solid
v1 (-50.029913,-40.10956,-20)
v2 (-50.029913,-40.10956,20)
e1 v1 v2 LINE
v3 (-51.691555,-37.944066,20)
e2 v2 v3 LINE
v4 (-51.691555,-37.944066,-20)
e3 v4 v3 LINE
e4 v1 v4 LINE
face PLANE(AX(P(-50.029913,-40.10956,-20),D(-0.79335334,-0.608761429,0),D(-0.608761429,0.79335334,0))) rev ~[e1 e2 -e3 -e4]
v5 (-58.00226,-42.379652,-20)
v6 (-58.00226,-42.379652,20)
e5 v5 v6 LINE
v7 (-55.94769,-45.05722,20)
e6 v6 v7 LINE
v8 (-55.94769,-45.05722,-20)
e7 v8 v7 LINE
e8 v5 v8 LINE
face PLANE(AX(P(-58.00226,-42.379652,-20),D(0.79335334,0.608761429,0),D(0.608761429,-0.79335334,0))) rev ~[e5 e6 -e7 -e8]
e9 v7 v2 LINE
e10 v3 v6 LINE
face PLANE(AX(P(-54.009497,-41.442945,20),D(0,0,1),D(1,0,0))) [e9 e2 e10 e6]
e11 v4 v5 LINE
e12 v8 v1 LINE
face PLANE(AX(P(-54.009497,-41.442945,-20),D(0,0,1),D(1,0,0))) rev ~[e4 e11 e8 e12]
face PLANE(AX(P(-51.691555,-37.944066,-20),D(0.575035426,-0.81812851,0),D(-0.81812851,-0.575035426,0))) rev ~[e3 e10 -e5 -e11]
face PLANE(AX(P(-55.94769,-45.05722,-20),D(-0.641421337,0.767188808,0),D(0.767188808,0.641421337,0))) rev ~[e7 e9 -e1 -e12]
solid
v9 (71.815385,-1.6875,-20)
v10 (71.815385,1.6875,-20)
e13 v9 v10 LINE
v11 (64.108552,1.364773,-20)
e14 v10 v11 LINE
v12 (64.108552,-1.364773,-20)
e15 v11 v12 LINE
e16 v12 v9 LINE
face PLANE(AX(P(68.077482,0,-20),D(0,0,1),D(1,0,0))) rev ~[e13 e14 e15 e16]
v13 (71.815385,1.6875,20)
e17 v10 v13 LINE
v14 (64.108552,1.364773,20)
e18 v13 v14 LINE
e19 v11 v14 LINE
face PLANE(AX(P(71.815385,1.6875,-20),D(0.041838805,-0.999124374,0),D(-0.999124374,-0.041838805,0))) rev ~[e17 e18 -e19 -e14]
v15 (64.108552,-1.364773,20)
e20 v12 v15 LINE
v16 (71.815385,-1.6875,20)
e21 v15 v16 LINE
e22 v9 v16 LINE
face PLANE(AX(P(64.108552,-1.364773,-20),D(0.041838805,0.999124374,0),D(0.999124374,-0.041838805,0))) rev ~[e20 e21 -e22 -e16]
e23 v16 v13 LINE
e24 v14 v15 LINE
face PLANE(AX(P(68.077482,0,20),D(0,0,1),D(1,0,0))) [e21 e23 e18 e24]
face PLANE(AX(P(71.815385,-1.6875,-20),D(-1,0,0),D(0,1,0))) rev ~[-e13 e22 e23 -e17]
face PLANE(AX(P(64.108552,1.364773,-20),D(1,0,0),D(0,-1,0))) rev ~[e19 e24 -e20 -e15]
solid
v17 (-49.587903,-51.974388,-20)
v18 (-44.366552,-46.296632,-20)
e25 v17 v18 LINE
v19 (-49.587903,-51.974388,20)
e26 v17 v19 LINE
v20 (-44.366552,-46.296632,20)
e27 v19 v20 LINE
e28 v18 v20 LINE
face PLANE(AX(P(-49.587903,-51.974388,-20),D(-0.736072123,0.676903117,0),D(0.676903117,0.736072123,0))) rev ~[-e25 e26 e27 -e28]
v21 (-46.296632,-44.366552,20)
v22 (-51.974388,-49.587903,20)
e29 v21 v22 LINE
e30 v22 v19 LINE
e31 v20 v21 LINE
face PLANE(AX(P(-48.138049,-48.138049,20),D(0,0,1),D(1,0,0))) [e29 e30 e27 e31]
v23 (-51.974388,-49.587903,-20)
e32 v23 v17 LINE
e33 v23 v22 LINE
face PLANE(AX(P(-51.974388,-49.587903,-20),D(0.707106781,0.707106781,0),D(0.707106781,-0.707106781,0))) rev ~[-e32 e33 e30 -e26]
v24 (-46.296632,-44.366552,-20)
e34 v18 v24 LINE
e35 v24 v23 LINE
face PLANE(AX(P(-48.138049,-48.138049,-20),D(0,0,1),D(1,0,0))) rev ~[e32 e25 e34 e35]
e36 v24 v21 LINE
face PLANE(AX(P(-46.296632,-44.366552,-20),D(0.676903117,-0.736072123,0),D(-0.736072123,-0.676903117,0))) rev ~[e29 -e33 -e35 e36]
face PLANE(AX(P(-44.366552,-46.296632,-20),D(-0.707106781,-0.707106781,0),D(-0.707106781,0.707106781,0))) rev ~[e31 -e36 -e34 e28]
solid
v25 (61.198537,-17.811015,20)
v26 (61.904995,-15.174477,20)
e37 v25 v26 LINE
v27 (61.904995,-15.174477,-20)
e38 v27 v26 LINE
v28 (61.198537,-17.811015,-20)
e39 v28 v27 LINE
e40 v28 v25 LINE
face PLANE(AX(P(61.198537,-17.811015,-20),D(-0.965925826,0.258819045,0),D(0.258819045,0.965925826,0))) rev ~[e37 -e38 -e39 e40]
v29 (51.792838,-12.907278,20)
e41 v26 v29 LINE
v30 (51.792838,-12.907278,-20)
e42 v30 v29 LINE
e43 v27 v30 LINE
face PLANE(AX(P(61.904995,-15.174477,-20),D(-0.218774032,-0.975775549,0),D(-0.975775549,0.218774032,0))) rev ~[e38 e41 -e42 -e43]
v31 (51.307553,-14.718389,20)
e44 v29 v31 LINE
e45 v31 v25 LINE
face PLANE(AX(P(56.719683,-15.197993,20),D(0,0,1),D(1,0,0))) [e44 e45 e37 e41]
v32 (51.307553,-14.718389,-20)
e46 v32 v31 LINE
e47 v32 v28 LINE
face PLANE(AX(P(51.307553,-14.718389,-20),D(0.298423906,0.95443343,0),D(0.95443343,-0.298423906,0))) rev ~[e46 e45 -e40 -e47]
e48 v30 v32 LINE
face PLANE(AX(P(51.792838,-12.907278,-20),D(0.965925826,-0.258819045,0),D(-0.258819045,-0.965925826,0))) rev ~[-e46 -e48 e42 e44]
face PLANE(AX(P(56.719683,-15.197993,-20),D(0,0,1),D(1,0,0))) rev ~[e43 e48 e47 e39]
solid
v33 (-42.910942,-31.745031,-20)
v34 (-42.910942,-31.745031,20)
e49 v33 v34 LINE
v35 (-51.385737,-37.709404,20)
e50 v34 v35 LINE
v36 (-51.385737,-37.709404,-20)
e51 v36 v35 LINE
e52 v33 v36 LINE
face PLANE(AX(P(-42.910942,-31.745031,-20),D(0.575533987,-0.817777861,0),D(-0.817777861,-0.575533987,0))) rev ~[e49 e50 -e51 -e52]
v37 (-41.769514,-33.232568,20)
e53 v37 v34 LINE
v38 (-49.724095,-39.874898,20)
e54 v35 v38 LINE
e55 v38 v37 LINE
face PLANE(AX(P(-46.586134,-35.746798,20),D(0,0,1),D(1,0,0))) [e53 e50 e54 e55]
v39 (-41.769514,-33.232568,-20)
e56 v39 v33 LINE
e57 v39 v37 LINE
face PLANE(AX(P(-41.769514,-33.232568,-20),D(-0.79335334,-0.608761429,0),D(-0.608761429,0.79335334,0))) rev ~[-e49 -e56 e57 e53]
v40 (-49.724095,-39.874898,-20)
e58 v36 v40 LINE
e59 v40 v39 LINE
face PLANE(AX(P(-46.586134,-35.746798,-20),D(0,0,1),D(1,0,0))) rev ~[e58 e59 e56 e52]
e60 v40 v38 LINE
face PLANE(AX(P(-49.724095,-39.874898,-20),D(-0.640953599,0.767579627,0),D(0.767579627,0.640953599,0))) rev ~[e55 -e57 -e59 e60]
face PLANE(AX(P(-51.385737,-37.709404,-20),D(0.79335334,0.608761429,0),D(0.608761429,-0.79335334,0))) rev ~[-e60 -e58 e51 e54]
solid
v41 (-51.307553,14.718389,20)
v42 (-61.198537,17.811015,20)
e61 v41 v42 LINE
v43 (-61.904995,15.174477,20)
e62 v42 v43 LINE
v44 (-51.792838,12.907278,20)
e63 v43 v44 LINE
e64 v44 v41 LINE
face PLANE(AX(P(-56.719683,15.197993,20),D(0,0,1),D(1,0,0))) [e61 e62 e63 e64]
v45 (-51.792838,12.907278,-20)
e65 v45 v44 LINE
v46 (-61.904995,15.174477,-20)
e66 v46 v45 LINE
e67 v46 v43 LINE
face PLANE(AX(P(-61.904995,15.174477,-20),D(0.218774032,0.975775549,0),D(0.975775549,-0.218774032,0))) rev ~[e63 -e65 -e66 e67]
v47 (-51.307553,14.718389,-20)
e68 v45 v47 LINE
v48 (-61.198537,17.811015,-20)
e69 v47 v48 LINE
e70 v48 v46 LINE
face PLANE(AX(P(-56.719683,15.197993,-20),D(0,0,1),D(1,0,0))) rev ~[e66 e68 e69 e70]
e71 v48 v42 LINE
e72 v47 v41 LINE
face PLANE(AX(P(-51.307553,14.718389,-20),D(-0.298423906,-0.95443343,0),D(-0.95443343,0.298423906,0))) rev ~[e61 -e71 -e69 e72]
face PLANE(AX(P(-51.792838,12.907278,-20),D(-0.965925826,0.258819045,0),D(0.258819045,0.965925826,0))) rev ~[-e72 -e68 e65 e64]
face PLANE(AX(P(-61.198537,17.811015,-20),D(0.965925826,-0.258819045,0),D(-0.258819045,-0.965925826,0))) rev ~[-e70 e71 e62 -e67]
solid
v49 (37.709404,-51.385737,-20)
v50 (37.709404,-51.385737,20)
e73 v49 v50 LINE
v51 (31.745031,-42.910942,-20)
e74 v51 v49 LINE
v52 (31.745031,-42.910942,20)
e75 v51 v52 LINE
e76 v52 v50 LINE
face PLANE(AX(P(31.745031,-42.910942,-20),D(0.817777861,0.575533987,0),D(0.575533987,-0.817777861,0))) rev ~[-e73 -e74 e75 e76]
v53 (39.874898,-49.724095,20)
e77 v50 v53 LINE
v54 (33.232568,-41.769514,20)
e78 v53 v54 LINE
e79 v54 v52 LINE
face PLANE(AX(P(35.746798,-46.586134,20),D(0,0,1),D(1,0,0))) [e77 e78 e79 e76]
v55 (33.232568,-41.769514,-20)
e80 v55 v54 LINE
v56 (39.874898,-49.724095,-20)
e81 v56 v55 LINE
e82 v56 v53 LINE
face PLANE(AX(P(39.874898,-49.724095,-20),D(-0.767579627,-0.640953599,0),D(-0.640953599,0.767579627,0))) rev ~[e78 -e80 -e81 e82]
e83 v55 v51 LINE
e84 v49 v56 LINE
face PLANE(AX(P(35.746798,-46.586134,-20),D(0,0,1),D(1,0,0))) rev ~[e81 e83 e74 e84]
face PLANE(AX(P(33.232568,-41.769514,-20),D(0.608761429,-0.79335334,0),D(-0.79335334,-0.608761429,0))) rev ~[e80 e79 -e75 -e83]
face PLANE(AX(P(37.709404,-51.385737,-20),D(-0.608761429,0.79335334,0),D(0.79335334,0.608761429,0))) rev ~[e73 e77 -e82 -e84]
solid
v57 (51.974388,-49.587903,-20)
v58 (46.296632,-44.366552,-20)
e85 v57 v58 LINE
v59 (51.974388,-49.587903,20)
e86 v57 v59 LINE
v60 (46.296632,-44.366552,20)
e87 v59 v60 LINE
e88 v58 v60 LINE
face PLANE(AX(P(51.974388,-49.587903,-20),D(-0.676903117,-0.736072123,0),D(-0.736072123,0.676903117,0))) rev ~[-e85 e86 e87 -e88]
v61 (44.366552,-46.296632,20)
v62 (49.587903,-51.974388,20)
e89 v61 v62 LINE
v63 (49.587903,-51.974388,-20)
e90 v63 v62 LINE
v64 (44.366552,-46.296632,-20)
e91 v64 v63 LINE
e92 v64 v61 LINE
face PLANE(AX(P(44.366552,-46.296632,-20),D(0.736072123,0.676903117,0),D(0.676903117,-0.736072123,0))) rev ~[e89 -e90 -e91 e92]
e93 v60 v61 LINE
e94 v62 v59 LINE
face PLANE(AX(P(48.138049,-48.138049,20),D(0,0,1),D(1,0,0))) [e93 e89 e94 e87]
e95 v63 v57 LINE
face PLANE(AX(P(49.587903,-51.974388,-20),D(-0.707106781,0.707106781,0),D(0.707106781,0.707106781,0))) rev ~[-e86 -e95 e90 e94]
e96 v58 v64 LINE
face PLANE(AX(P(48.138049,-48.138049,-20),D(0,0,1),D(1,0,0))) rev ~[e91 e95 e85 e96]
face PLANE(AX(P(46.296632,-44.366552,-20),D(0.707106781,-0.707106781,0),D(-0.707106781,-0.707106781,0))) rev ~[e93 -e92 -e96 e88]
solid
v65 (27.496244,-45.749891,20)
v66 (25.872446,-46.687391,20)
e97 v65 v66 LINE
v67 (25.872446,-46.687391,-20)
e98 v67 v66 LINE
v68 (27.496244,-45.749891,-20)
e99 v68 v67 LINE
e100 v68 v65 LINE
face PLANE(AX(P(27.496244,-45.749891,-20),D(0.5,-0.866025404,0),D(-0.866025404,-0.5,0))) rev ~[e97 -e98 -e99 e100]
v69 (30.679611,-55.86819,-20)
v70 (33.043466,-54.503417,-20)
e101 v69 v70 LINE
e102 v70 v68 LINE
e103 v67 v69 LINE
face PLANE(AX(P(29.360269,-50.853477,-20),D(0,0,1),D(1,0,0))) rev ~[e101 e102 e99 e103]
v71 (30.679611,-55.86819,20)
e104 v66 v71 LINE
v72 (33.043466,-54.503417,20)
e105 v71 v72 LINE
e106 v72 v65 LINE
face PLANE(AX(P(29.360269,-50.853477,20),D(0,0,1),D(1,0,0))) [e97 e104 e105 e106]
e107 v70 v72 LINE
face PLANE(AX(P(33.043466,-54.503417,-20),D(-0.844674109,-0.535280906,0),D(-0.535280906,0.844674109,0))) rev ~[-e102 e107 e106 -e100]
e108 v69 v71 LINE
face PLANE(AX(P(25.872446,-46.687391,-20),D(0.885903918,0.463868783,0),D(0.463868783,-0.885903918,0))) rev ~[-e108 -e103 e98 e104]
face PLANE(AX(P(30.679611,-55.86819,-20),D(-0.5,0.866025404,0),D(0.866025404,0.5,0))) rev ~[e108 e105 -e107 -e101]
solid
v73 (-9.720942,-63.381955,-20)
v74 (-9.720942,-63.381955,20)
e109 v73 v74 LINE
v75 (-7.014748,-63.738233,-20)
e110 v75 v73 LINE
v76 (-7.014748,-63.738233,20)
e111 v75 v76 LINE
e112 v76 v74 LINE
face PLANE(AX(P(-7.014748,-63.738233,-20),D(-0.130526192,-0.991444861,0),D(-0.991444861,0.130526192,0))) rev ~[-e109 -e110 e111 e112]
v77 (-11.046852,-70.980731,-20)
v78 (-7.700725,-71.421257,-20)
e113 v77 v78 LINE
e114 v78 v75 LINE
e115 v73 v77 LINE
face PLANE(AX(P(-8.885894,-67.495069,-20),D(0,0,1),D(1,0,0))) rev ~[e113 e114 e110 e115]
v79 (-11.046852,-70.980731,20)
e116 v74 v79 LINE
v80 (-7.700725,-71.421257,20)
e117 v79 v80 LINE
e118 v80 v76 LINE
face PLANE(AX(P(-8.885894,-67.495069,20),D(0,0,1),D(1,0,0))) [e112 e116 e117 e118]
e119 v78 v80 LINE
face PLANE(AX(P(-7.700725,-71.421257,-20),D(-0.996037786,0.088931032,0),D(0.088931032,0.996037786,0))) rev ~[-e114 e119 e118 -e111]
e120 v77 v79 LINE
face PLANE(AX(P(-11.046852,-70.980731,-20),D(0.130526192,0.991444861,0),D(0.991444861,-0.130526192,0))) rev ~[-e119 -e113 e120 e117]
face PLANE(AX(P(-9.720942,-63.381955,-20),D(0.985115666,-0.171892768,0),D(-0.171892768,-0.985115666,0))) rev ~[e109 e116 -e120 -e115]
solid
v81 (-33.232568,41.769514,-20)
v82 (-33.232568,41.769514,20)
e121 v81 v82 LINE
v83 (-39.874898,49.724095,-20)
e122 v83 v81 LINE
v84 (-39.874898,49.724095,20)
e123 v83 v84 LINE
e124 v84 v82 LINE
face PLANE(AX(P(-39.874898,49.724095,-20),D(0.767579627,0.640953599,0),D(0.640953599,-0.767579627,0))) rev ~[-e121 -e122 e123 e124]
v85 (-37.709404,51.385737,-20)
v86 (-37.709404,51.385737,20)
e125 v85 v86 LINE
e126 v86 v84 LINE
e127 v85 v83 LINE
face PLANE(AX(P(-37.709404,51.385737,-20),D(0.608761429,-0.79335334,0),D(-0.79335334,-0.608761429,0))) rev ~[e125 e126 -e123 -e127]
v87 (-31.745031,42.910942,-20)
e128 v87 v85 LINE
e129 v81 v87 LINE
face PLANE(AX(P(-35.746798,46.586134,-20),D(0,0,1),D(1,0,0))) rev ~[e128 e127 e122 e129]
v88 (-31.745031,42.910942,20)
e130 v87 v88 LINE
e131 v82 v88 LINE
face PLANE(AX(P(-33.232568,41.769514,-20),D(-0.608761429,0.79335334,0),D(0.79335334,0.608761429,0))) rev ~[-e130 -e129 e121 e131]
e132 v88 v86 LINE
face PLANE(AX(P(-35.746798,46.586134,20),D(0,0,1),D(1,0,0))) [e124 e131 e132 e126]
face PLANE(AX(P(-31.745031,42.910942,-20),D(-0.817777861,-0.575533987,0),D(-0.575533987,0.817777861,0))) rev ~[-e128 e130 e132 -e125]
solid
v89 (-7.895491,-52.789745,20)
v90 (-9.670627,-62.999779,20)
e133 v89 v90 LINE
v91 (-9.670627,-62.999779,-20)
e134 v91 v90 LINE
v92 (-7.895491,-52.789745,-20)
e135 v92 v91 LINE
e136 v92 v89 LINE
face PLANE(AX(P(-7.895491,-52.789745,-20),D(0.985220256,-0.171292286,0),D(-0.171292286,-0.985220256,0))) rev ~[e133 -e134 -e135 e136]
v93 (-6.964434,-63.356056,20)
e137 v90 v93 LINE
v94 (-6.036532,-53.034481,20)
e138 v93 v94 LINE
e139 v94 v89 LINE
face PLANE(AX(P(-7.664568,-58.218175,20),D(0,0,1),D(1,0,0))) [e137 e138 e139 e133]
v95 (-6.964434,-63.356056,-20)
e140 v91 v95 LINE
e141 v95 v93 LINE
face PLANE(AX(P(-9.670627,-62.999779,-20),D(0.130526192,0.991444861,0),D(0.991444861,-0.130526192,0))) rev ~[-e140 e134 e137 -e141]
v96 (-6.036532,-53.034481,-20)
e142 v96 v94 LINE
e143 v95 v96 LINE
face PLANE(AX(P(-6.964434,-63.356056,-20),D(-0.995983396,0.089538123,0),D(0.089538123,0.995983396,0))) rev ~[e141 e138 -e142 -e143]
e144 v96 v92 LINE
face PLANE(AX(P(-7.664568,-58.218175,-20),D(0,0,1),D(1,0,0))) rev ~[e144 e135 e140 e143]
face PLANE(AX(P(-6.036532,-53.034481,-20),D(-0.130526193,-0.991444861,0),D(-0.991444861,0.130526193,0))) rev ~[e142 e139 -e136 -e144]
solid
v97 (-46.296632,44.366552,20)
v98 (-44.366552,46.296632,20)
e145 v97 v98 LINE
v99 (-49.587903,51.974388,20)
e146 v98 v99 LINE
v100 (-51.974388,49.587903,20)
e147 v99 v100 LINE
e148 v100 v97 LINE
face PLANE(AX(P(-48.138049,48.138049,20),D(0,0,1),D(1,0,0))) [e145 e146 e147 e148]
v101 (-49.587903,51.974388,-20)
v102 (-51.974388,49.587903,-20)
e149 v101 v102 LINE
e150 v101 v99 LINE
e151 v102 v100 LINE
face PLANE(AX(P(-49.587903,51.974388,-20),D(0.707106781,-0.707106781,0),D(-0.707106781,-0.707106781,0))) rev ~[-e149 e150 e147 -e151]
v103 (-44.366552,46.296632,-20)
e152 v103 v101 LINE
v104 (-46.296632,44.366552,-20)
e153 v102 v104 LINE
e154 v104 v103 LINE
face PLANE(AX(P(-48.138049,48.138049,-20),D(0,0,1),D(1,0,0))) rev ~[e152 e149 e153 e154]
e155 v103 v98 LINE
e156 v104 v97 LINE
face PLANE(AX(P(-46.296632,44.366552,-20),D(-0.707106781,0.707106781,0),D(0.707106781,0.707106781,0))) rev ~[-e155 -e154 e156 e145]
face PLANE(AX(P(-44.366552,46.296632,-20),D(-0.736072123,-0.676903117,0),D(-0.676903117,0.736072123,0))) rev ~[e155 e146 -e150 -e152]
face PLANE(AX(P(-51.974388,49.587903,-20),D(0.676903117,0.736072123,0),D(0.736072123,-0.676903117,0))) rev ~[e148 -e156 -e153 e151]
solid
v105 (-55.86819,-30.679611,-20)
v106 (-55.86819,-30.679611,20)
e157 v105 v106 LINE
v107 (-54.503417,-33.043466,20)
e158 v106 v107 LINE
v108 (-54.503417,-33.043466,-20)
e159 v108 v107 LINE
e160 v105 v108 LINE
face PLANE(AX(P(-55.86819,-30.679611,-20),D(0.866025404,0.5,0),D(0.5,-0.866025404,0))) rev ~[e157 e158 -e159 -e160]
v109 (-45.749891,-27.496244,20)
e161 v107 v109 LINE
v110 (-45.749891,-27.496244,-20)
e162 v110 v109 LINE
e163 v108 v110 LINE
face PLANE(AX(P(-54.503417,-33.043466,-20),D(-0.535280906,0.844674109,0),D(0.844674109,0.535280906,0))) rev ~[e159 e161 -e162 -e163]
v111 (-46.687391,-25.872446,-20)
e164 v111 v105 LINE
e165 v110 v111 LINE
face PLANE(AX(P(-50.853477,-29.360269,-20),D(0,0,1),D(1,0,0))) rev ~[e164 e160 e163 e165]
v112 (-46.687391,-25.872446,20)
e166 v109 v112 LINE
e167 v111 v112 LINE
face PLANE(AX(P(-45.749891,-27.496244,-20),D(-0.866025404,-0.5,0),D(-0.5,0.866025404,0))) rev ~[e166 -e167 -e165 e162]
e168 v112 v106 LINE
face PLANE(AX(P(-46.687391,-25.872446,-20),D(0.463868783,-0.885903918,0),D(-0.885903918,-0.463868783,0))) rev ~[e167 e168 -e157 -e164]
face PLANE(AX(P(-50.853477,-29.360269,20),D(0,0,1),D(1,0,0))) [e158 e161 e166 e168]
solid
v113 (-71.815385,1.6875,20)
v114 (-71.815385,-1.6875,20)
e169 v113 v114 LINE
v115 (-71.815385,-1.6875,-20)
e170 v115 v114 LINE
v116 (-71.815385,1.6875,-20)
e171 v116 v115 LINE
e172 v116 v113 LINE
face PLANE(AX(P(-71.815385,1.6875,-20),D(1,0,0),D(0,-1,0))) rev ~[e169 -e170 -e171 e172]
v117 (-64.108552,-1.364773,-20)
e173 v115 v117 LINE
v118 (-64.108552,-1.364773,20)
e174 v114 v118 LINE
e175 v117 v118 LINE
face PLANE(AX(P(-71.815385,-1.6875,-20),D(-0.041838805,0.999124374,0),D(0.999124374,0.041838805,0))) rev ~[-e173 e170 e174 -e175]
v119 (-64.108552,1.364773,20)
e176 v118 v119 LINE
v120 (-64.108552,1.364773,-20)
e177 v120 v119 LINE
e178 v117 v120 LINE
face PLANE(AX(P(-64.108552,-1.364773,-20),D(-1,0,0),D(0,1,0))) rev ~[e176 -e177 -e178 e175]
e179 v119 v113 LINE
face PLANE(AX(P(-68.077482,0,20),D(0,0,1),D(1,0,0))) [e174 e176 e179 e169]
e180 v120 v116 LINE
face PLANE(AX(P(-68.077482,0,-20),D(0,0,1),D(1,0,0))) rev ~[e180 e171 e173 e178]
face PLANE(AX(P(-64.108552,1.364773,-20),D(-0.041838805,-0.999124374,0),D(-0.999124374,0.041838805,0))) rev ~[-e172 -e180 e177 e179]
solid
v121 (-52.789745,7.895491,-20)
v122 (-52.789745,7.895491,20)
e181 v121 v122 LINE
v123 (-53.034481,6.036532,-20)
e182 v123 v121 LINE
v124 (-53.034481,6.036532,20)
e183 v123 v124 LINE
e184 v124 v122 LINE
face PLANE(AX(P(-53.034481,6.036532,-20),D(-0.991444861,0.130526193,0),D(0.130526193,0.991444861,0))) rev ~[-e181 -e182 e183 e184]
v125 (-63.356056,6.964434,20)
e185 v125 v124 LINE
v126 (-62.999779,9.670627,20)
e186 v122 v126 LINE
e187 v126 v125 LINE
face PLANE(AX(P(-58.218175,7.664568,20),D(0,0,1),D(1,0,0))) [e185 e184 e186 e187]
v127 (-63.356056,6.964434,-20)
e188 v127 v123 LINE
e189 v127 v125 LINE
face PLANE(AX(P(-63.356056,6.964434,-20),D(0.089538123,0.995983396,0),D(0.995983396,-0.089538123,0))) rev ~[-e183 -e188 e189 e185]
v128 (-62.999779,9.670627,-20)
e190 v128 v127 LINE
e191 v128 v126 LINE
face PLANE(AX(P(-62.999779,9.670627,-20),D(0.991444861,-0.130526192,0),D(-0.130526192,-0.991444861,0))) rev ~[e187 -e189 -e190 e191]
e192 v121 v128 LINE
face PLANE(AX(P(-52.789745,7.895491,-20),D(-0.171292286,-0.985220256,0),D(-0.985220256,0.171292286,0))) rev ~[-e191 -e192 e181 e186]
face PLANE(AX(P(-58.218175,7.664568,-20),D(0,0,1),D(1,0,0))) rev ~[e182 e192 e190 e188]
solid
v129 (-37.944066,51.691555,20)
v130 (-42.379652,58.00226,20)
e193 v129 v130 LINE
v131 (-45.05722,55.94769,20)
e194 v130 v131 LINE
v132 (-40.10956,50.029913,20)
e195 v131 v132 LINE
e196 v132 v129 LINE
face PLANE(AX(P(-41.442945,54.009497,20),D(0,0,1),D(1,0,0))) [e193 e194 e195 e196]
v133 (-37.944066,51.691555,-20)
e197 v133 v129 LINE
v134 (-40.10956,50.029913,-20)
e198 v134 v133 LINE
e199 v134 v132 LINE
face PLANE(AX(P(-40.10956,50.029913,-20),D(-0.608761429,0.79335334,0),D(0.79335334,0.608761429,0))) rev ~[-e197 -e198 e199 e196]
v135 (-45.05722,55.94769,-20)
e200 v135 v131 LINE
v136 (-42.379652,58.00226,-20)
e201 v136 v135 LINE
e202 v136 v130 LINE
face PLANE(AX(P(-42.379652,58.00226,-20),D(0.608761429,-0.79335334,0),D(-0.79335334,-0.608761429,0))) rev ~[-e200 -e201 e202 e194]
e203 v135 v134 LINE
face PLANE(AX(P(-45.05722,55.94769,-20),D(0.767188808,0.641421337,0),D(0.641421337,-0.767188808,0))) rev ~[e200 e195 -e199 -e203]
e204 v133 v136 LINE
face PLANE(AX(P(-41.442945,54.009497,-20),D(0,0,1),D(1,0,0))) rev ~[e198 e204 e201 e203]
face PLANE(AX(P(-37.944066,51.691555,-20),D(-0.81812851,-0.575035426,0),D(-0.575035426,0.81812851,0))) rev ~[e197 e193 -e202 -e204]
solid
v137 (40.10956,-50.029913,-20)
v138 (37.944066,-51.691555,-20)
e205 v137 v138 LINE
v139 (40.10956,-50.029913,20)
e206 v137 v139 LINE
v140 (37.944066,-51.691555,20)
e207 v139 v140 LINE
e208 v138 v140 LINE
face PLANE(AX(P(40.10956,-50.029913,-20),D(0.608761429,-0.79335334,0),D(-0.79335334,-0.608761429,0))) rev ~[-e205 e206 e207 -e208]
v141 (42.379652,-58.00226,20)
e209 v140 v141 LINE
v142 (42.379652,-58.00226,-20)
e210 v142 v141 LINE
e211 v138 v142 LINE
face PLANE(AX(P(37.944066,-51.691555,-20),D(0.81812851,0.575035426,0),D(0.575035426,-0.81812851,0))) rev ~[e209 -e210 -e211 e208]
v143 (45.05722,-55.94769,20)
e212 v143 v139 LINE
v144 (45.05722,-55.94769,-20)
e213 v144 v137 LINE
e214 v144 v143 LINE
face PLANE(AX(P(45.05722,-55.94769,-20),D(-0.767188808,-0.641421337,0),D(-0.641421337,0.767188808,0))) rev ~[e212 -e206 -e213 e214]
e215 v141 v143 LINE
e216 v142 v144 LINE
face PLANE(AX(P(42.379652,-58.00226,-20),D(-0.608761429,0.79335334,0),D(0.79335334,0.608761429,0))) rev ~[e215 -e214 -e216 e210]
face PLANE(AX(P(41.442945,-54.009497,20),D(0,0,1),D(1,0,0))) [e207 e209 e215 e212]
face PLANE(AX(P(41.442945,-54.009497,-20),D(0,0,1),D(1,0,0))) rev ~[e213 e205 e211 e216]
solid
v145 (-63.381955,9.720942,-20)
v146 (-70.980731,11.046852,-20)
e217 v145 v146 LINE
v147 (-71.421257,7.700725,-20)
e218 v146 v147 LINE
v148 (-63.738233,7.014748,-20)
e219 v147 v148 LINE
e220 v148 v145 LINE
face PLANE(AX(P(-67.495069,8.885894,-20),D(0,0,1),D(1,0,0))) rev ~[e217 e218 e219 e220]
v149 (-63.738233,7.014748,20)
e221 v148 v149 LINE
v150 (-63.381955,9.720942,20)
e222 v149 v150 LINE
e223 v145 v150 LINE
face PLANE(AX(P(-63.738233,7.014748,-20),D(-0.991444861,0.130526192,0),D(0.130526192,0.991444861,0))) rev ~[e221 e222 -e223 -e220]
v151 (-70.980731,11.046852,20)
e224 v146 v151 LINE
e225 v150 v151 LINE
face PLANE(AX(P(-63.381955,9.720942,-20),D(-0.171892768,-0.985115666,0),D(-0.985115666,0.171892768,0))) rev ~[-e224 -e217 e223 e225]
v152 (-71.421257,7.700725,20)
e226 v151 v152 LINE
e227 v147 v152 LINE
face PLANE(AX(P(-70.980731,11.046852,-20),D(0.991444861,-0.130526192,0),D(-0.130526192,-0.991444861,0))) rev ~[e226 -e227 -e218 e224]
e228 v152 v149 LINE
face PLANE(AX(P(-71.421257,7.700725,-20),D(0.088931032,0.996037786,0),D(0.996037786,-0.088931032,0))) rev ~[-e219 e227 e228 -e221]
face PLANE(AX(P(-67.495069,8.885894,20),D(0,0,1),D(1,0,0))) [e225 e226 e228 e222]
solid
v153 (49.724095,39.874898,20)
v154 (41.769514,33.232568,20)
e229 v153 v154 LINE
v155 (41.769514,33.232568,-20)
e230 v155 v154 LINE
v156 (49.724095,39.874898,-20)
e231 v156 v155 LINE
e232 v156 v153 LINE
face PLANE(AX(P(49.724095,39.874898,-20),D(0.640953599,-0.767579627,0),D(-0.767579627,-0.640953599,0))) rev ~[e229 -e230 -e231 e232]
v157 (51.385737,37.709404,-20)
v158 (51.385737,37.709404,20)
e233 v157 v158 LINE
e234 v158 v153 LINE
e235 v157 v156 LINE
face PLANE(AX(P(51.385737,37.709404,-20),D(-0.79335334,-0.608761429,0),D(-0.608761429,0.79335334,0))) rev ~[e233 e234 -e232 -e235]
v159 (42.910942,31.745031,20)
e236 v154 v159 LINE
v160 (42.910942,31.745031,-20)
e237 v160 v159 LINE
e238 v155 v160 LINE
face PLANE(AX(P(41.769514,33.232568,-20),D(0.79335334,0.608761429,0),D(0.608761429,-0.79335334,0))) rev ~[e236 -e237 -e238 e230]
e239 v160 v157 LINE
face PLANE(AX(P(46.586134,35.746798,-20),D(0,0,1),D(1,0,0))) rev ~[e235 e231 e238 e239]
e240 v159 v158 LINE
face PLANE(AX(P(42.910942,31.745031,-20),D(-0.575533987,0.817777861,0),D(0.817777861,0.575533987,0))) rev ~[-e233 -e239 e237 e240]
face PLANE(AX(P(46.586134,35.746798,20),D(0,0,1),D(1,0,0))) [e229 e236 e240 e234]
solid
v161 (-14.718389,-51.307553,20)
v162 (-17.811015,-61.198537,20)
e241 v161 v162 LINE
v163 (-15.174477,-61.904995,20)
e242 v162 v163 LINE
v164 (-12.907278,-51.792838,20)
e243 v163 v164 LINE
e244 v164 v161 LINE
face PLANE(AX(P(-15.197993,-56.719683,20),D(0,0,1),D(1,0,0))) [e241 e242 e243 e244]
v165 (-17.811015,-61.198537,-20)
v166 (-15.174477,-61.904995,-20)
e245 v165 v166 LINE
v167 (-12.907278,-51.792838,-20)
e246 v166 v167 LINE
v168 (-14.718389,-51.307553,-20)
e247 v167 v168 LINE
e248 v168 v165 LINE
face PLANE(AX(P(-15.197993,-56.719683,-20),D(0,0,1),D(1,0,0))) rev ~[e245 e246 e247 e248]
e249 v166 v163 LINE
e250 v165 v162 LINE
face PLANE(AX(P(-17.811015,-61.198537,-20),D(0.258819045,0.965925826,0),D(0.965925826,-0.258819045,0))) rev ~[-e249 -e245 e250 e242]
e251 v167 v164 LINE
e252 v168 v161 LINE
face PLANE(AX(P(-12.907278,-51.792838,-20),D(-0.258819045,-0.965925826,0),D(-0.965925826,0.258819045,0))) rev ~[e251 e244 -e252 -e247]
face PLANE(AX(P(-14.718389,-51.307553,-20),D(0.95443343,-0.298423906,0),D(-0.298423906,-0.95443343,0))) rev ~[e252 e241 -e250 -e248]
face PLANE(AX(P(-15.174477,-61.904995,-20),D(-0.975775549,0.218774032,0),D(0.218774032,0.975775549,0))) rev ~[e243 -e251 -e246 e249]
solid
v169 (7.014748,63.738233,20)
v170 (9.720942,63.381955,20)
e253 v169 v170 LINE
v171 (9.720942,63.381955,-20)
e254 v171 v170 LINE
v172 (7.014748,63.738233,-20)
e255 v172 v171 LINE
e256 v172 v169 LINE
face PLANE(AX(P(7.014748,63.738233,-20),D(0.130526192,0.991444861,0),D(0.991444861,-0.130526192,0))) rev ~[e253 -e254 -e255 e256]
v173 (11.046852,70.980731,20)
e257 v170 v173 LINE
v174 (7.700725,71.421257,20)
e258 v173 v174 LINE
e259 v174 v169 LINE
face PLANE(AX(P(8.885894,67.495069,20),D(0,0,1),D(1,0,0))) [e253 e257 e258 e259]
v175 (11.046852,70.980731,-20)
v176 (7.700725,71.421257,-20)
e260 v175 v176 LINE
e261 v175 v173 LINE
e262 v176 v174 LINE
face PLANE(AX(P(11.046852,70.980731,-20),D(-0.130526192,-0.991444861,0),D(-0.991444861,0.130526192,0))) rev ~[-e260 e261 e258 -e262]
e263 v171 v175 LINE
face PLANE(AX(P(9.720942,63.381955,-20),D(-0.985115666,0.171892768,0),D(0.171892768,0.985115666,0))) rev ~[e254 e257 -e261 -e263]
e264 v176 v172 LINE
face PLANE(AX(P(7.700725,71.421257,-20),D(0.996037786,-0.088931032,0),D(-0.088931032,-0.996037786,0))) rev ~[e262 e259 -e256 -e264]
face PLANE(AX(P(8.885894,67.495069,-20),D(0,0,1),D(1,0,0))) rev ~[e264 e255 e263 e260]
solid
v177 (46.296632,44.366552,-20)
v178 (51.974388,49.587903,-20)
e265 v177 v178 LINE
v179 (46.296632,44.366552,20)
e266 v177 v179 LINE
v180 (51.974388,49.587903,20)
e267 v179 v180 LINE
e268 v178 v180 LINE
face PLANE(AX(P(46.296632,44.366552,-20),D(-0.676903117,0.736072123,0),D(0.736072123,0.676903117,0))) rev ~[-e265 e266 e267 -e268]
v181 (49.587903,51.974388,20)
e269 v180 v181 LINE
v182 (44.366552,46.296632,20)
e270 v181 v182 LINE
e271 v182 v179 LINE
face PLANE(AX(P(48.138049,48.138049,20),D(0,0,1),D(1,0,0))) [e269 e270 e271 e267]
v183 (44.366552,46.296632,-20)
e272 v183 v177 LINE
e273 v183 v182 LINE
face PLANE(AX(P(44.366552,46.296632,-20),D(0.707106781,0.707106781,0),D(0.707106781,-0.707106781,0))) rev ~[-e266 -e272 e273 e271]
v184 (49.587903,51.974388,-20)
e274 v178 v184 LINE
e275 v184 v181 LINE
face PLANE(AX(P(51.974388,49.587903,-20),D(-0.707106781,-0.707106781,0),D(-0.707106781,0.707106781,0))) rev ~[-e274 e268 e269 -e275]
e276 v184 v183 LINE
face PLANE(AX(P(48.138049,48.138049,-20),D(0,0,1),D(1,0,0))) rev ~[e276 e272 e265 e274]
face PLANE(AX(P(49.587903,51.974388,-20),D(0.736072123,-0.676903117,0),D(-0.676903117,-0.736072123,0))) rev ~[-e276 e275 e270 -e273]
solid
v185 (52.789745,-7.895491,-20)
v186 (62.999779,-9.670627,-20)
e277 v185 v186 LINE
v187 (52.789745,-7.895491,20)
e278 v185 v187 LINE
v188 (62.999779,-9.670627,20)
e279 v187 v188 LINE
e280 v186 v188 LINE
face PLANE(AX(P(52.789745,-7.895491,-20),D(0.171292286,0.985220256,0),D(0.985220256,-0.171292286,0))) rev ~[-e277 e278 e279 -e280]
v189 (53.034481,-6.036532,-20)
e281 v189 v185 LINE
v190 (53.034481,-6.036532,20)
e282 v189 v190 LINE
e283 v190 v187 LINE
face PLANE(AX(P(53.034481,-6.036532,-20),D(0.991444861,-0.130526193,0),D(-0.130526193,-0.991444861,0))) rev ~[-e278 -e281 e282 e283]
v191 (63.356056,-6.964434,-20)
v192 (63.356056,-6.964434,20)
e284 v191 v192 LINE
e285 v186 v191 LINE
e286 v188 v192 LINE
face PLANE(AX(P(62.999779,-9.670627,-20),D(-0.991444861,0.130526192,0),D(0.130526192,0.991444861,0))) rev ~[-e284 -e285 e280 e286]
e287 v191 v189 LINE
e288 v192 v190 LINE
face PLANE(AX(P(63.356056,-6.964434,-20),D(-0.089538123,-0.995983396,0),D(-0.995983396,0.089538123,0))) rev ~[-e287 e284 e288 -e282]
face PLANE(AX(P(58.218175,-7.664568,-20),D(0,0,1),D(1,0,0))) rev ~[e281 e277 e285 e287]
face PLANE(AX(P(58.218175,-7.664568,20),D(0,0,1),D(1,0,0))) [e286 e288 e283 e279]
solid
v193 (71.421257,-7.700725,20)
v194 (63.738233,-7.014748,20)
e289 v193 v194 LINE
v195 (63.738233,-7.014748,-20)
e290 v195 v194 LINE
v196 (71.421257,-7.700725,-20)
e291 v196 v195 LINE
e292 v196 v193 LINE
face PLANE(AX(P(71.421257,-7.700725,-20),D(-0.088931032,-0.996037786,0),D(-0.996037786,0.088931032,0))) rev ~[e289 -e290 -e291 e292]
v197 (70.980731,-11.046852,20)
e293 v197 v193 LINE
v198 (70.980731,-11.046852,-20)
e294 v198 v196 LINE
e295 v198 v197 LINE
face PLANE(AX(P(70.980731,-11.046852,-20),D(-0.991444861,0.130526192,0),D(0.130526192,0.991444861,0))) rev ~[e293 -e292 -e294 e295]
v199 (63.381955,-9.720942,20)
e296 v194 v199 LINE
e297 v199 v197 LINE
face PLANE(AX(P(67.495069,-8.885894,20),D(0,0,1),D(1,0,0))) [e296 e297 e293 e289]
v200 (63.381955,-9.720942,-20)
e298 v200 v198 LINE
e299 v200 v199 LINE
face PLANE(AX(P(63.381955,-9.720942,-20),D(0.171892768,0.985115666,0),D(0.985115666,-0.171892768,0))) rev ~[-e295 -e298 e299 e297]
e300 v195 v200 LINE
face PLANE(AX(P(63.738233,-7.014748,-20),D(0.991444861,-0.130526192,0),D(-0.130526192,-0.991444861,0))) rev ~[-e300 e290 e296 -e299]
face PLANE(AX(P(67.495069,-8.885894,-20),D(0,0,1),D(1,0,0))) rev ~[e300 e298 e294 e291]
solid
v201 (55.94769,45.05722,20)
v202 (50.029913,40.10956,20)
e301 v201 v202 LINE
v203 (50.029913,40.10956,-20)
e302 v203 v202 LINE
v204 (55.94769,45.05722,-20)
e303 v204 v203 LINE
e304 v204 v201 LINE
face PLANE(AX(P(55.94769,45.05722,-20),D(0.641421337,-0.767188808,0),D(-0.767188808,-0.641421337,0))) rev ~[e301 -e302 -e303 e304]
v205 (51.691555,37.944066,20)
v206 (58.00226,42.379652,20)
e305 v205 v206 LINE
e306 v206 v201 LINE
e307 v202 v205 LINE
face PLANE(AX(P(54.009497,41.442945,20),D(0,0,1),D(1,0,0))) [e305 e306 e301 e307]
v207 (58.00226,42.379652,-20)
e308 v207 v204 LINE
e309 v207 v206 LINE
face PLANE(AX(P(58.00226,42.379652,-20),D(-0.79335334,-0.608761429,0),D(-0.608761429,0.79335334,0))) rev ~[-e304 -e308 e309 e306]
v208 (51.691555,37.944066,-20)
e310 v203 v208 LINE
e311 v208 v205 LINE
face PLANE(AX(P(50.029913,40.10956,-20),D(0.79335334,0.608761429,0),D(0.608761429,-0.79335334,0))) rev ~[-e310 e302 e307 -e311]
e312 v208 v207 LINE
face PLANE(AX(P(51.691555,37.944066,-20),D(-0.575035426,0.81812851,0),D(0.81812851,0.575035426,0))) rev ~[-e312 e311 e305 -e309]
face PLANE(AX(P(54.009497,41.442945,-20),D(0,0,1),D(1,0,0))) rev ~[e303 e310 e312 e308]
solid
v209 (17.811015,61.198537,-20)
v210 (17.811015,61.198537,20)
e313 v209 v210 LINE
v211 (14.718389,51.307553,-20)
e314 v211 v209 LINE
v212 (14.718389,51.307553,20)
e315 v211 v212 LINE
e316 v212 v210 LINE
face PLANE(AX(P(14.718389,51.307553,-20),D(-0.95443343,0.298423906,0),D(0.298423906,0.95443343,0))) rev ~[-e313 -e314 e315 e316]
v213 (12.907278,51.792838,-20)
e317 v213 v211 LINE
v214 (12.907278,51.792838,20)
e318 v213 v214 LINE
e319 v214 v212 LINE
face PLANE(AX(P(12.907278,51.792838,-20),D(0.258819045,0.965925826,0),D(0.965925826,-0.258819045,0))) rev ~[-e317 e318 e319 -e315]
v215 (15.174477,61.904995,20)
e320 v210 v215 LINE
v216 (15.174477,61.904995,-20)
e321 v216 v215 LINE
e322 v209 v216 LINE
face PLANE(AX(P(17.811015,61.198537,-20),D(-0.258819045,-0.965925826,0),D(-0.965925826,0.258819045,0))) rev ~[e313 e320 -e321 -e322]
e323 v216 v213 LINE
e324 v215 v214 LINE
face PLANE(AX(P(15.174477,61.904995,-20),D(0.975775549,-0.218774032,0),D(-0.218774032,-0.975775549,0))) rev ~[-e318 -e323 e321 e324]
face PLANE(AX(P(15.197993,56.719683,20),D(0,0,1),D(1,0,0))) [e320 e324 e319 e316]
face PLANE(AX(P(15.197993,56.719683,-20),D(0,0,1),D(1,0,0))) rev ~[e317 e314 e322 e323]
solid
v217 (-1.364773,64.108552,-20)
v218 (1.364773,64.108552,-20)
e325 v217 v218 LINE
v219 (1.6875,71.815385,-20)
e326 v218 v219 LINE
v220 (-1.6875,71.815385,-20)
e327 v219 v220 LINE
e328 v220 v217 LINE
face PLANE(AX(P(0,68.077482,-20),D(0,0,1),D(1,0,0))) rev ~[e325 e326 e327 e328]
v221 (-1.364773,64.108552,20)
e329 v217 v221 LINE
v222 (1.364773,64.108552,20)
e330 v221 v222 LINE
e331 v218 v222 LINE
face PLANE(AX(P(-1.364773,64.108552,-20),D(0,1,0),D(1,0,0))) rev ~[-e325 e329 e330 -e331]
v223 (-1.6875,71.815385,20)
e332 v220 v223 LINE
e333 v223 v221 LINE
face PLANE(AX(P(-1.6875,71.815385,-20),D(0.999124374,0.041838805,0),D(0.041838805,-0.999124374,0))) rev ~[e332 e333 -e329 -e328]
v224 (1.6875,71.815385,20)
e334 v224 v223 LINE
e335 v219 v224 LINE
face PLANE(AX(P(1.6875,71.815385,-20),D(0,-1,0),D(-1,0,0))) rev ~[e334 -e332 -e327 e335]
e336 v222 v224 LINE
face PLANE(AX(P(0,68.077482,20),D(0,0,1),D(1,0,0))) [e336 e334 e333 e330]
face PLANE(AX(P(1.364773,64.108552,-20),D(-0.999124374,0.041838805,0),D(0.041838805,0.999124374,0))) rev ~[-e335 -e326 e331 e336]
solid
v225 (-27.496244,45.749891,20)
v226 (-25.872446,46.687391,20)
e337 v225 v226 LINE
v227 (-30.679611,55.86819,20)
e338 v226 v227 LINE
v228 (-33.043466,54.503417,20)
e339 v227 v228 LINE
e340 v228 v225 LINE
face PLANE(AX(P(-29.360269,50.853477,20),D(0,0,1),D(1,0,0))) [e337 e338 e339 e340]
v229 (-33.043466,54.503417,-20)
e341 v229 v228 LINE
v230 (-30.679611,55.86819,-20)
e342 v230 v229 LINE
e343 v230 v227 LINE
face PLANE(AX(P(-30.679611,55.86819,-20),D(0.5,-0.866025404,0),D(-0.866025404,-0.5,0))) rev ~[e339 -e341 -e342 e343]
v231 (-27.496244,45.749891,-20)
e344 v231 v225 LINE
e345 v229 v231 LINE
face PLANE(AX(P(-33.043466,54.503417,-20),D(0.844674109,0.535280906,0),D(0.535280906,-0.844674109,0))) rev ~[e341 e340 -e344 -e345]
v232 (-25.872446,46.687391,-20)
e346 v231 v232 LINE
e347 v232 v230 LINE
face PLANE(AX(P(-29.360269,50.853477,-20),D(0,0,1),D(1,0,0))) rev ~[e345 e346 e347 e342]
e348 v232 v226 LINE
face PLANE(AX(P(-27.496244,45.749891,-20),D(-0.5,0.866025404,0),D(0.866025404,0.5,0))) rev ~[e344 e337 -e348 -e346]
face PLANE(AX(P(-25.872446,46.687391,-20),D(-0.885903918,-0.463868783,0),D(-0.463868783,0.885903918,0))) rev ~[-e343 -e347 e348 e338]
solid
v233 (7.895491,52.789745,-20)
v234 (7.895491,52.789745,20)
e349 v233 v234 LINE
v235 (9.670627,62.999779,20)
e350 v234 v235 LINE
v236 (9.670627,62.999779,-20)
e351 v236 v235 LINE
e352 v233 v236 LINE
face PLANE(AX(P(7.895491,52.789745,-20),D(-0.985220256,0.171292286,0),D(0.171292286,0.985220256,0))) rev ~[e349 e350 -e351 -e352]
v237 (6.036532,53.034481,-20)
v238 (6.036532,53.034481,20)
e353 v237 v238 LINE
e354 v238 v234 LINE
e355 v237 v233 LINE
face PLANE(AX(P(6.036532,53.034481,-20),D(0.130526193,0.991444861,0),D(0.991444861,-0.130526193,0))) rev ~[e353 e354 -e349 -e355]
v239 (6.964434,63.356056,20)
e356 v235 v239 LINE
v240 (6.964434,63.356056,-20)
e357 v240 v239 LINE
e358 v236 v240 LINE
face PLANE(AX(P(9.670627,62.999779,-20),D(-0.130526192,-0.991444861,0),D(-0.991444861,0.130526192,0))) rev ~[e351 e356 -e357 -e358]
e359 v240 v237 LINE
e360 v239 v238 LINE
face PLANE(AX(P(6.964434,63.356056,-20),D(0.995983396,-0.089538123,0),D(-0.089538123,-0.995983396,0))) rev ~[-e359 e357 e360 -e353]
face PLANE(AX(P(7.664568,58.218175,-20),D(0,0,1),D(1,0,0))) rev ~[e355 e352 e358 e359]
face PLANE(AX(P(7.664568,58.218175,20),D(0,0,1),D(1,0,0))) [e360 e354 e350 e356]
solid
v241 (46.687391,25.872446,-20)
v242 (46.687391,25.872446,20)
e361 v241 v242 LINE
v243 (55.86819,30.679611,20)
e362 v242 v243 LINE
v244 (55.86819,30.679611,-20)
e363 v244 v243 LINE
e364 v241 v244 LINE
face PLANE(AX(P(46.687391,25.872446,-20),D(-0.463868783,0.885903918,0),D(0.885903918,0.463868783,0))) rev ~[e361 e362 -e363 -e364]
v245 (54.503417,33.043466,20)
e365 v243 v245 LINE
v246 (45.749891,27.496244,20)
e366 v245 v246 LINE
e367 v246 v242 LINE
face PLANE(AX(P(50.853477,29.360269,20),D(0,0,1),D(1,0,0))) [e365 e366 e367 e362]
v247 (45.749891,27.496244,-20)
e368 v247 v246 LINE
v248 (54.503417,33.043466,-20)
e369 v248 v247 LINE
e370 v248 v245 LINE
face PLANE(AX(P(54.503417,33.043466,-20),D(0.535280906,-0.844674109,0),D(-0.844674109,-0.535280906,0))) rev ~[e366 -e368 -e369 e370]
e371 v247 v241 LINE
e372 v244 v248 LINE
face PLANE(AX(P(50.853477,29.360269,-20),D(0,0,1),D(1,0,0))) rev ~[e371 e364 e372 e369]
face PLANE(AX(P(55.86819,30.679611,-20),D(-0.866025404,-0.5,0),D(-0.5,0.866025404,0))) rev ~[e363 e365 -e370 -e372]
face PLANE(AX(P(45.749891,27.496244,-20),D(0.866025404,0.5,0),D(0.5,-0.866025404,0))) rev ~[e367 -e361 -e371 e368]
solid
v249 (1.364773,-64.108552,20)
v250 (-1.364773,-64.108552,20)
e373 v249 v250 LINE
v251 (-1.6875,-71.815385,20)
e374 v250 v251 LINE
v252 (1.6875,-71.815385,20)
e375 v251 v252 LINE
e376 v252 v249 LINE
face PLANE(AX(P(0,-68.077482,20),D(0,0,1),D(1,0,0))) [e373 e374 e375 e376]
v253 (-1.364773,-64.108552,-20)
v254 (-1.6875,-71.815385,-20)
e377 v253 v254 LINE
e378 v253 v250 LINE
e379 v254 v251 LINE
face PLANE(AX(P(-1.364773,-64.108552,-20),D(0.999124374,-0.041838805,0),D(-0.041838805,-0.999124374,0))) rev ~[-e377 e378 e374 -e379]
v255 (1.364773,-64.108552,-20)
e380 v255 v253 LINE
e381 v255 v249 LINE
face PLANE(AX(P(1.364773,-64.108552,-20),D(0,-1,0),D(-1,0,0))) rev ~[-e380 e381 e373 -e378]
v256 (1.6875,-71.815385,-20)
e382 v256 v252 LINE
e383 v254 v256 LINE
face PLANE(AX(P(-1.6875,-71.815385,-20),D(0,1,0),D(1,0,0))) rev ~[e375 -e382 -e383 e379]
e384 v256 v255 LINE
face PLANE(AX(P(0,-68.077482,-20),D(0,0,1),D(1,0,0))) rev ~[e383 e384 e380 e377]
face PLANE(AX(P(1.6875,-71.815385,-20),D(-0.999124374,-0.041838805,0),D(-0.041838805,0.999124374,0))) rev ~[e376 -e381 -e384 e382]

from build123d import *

# Parameters (mm, degrees)
SLOT_COPPER_ENVELOPES_START    = -20
SLOT_COPPER_ENVELOPES_DEPTH    = 40
SLOT_COPPER_ENVELOPES_2_DEPTH  = 40
SLOT_COPPER_ENVELOPES_3_DEPTH  = 40
SLOT_COPPER_ENVELOPES_4_DEPTH  = 40
SLOT_COPPER_ENVELOPES_5_DEPTH  = 40
SLOT_COPPER_ENVELOPES_6_DEPTH  = 40
SLOT_COPPER_ENVELOPES_7_DEPTH  = 40
SLOT_COPPER_ENVELOPES_8_DEPTH  = 40
SLOT_COPPER_ENVELOPES_9_DEPTH  = 40
SLOT_COPPER_ENVELOPES_10_DEPTH = 40
SLOT_COPPER_ENVELOPES_11_DEPTH = 40
SLOT_COPPER_ENVELOPES_12_DEPTH = 40
SLOT_COPPER_ENVELOPES_13_DEPTH = 40
SLOT_COPPER_ENVELOPES_14_DEPTH = 40
SLOT_COPPER_ENVELOPES_15_DEPTH = 40
SLOT_COPPER_ENVELOPES_16_DEPTH = 40
SLOT_COPPER_ENVELOPES_17_DEPTH = 40
SLOT_COPPER_ENVELOPES_18_DEPTH = 40
SLOT_COPPER_ENVELOPES_19_DEPTH = 40
SLOT_COPPER_ENVELOPES_20_DEPTH = 40
SLOT_COPPER_ENVELOPES_21_DEPTH = 40
SLOT_COPPER_ENVELOPES_22_DEPTH = 40
SLOT_COPPER_ENVELOPES_23_DEPTH = 40
SLOT_COPPER_ENVELOPES_24_DEPTH = 40
SLOT_COPPER_ENVELOPES_25_DEPTH = 40
SLOT_COPPER_ENVELOPES_26_DEPTH = 40
SLOT_COPPER_ENVELOPES_27_DEPTH = 40
SLOT_COPPER_ENVELOPES_28_DEPTH = 40
SLOT_COPPER_ENVELOPES_29_DEPTH = 40
SLOT_COPPER_ENVELOPES_30_DEPTH = 40
SLOT_COPPER_ENVELOPES_31_DEPTH = 40
SLOT_COPPER_ENVELOPES_32_DEPTH = 40


with BuildPart() as part:
    # Эскиз1 → Slot_copper_envelopes (new body)
    with BuildSketch(Plane.XY.offset(SLOT_COPPER_ENVELOPES_START)):
        Polygon((64.10855161, -1.364772727), (71.815384615, -1.6875), (71.815384615, 1.6875), (64.10855161, 1.364772727), align=None)
    extrude(amount=SLOT_COPPER_ENVELOPES_DEPTH)


with BuildPart() as body_2:
    # Эскиз1 → Slot_copper_envelopes 2 (new body)
    with BuildSketch(Plane.XY.offset(SLOT_COPPER_ENVELOPES_START)):
        Polygon((46.687390808, 25.872445896), (55.868189786, 30.679610609), (54.503417059, 33.043466314), (45.749890808, 27.496243528), align=None)
    extrude(amount=SLOT_COPPER_ENVELOPES_2_DEPTH)


with BuildPart() as body_3:
    # Эскиз1 → Slot_copper_envelopes 3 (new body)
    with BuildSketch(Plane.XY.offset(SLOT_COPPER_ENVELOPES_START)):
        Polygon((51.691554556, 37.944066488), (58.00226018, 42.379652402), (55.947690357, 45.057219925), (50.029912565, 40.109560491), align=None)
    extrude(amount=SLOT_COPPER_ENVELOPES_3_DEPTH)


with BuildPart() as body_4:
    # Эскиз1 → Slot_copper_envelopes 4 (new body)
    with BuildSketch(Plane.XY.offset(SLOT_COPPER_ENVELOPES_START)):
        Polygon((42.910941862, 31.745030882), (51.385736926, 37.709404367), (49.724094935, 39.87489837), (41.769514182, 33.232568395), align=None)
    extrude(amount=SLOT_COPPER_ENVELOPES_4_DEPTH)


with BuildPart() as body_5:
    # Эскиз1 → Slot_copper_envelopes 5 (new body)
    with BuildSketch(Plane.XY.offset(SLOT_COPPER_ENVELOPES_START)):
        Polygon((46.296631625, 44.366551525), (51.974388148, 49.587902762), (49.587902762, 51.974388148), (44.366551525, 46.296631625), align=None)
    extrude(amount=SLOT_COPPER_ENVELOPES_5_DEPTH)


with BuildPart() as body_6:
    # Эскиз1 → Slot_copper_envelopes 6 (new body)
    with BuildSketch(Plane.XY.offset(SLOT_COPPER_ENVELOPES_START)):
        Polygon((14.718388697, 51.307552576), (17.811015145, 61.198536557), (15.174476696, 61.904994905), (12.907277773, 51.792838285), align=None)
    extrude(amount=SLOT_COPPER_ENVELOPES_6_DEPTH)


with BuildPart() as body_7:
    # Эскиз1 → Slot_copper_envelopes 7 (new body)
    with BuildSketch(Plane.XY.offset(SLOT_COPPER_ENVELOPES_START)):
        Polygon((9.720942038, 63.381955476), (11.0468519, 70.980731095), (7.700725493, 71.421256994), (7.014748223, 63.738232651), align=None)
    extrude(amount=SLOT_COPPER_ENVELOPES_7_DEPTH)


with BuildPart() as body_8:
    # Эскиз1 → Slot_copper_envelopes 8 (new body)
    with BuildSketch(Plane.XY.offset(SLOT_COPPER_ENVELOPES_START)):
        Polygon((7.895491372, 52.789744583), (9.670627495, 62.999778579), (6.96443368, 63.356055754), (6.036532257, 53.034481194), align=None)
    extrude(amount=SLOT_COPPER_ENVELOPES_8_DEPTH)


with BuildPart() as body_9:
    # Эскиз1 → Slot_copper_envelopes 9 (new body)
    with BuildSketch(Plane.XY.offset(SLOT_COPPER_ENVELOPES_START)):
        Polygon((1.364772727, 64.10855161), (1.6875, 71.815384615), (-1.6875, 71.815384615), (-1.364772727, 64.10855161), align=None)
    extrude(amount=SLOT_COPPER_ENVELOPES_9_DEPTH)


with BuildPart() as body_10:
    # Эскиз1 → Slot_copper_envelopes 10 (new body)
    with BuildSketch(Plane.XY.offset(SLOT_COPPER_ENVELOPES_START)):
        Polygon((-25.872445896, 46.687390808), (-30.679610609, 55.868189786), (-33.043466314, 54.503417059), (-27.496243528, 45.749890808), align=None)
    extrude(amount=SLOT_COPPER_ENVELOPES_10_DEPTH)


with BuildPart() as body_11:
    # Эскиз1 → Slot_copper_envelopes 11 (new body)
    with BuildSketch(Plane.XY.offset(SLOT_COPPER_ENVELOPES_START)):
        Polygon((-37.944066488, 51.691554556), (-42.379652402, 58.00226018), (-45.057219925, 55.947690357), (-40.109560491, 50.029912565), align=None)
    extrude(amount=SLOT_COPPER_ENVELOPES_11_DEPTH)


with BuildPart() as body_12:
    # Эскиз1 → Slot_copper_envelopes 12 (new body)
    with BuildSketch(Plane.XY.offset(SLOT_COPPER_ENVELOPES_START)):
        Polygon((-31.745030882, 42.910941862), (-37.709404367, 51.385736926), (-39.87489837, 49.724094935), (-33.232568395, 41.769514182), align=None)
    extrude(amount=SLOT_COPPER_ENVELOPES_12_DEPTH)


with BuildPart() as body_13:
    # Эскиз1 → Slot_copper_envelopes 13 (new body)
    with BuildSketch(Plane.XY.offset(SLOT_COPPER_ENVELOPES_START)):
        Polygon((-44.366551525, 46.296631625), (-49.587902762, 51.974388148), (-51.974388148, 49.587902762), (-46.296631625, 44.366551525), align=None)
    extrude(amount=SLOT_COPPER_ENVELOPES_13_DEPTH)


with BuildPart() as body_14:
    # Эскиз1 → Slot_copper_envelopes 14 (new body)
    with BuildSketch(Plane.XY.offset(SLOT_COPPER_ENVELOPES_START)):
        Polygon((-51.307552576, 14.718388697), (-61.198536557, 17.811015145), (-61.904994905, 15.174476696), (-51.792838285, 12.907277773), align=None)
    extrude(amount=SLOT_COPPER_ENVELOPES_14_DEPTH)


with BuildPart() as body_15:
    # Эскиз1 → Slot_copper_envelopes 15 (new body)
    with BuildSketch(Plane.XY.offset(SLOT_COPPER_ENVELOPES_START)):
        Polygon((-63.381955476, 9.720942038), (-70.980731095, 11.0468519), (-71.421256994, 7.700725493), (-63.738232651, 7.014748223), align=None)
    extrude(amount=SLOT_COPPER_ENVELOPES_15_DEPTH)


with BuildPart() as body_16:
    # Эскиз1 → Slot_copper_envelopes 16 (new body)
    with BuildSketch(Plane.XY.offset(SLOT_COPPER_ENVELOPES_START)):
        Polygon((-52.789744583, 7.895491372), (-62.999778579, 9.670627495), (-63.356055754, 6.96443368), (-53.034481194, 6.036532257), align=None)
    extrude(amount=SLOT_COPPER_ENVELOPES_16_DEPTH)


with BuildPart() as body_17:
    # Эскиз1 → Slot_copper_envelopes 17 (new body)
    with BuildSketch(Plane.XY.offset(SLOT_COPPER_ENVELOPES_START)):
        Polygon((-64.10855161, 1.364772727), (-71.815384615, 1.6875), (-71.815384615, -1.6875), (-64.10855161, -1.364772727), align=None)
    extrude(amount=SLOT_COPPER_ENVELOPES_17_DEPTH)


with BuildPart() as body_18:
    # Эскиз1 → Slot_copper_envelopes 18 (new body)
    with BuildSketch(Plane.XY.offset(SLOT_COPPER_ENVELOPES_START)):
        Polygon((-46.687390808, -25.872445896), (-55.868189786, -30.679610609), (-54.503417059, -33.043466314), (-45.749890808, -27.496243528), align=None)
    extrude(amount=SLOT_COPPER_ENVELOPES_18_DEPTH)


with BuildPart() as body_19:
    # Эскиз1 → Slot_copper_envelopes 19 (new body)
    with BuildSketch(Plane.XY.offset(SLOT_COPPER_ENVELOPES_START)):
        Polygon((-51.691554556, -37.944066488), (-58.00226018, -42.379652402), (-55.947690357, -45.057219925), (-50.029912565, -40.109560491), align=None)
    extrude(amount=SLOT_COPPER_ENVELOPES_19_DEPTH)


with BuildPart() as body_20:
    # Эскиз1 → Slot_copper_envelopes 20 (new body)
    with BuildSketch(Plane.XY.offset(SLOT_COPPER_ENVELOPES_START)):
        Polygon((-42.910941862, -31.745030882), (-51.385736926, -37.709404367), (-49.724094935, -39.87489837), (-41.769514182, -33.232568395), align=None)
    extrude(amount=SLOT_COPPER_ENVELOPES_20_DEPTH)


with BuildPart() as body_21:
    # Эскиз1 → Slot_copper_envelopes 21 (new body)
    with BuildSketch(Plane.XY.offset(SLOT_COPPER_ENVELOPES_START)):
        Polygon((-46.296631625, -44.366551525), (-51.974388148, -49.587902762), (-49.587902762, -51.974388148), (-44.366551525, -46.296631625), align=None)
    extrude(amount=SLOT_COPPER_ENVELOPES_21_DEPTH)


with BuildPart() as body_22:
    # Эскиз1 → Slot_copper_envelopes 22 (new body)
    with BuildSketch(Plane.XY.offset(SLOT_COPPER_ENVELOPES_START)):
        Polygon((-14.718388697, -51.307552576), (-17.811015145, -61.198536557), (-15.174476696, -61.904994905), (-12.907277773, -51.792838285), align=None)
    extrude(amount=SLOT_COPPER_ENVELOPES_22_DEPTH)


with BuildPart() as body_23:
    # Эскиз1 → Slot_copper_envelopes 23 (new body)
    with BuildSketch(Plane.XY.offset(SLOT_COPPER_ENVELOPES_START)):
        Polygon((-9.720942038, -63.381955476), (-11.0468519, -70.980731095), (-7.700725493, -71.421256994), (-7.014748223, -63.738232651), align=None)
    extrude(amount=SLOT_COPPER_ENVELOPES_23_DEPTH)


with BuildPart() as body_24:
    # Эскиз1 → Slot_copper_envelopes 24 (new body)
    with BuildSketch(Plane.XY.offset(SLOT_COPPER_ENVELOPES_START)):
        Polygon((-7.895491372, -52.789744583), (-9.670627495, -62.999778579), (-6.96443368, -63.356055754), (-6.036532257, -53.034481194), align=None)
    extrude(amount=SLOT_COPPER_ENVELOPES_24_DEPTH)


with BuildPart() as body_25:
    # Эскиз1 → Slot_copper_envelopes 25 (new body)
    with BuildSketch(Plane.XY.offset(SLOT_COPPER_ENVELOPES_START)):
        Polygon((-1.364772727, -64.10855161), (-1.6875, -71.815384615), (1.6875, -71.815384615), (1.364772727, -64.10855161), align=None)
    extrude(amount=SLOT_COPPER_ENVELOPES_25_DEPTH)


with BuildPart() as body_26:
    # Эскиз1 → Slot_copper_envelopes 26 (new body)
    with BuildSketch(Plane.XY.offset(SLOT_COPPER_ENVELOPES_START)):
        Polygon((25.872445896, -46.687390808), (30.679610609, -55.868189786), (33.043466314, -54.503417059), (27.496243528, -45.749890808), align=None)
    extrude(amount=SLOT_COPPER_ENVELOPES_26_DEPTH)


with BuildPart() as body_27:
    # Эскиз1 → Slot_copper_envelopes 27 (new body)
    with BuildSketch(Plane.XY.offset(SLOT_COPPER_ENVELOPES_START)):
        Polygon((37.944066488, -51.691554556), (42.379652402, -58.00226018), (45.057219925, -55.947690357), (40.109560491, -50.029912565), align=None)
    extrude(amount=SLOT_COPPER_ENVELOPES_27_DEPTH)


with BuildPart() as body_28:
    # Эскиз1 → Slot_copper_envelopes 28 (new body)
    with BuildSketch(Plane.XY.offset(SLOT_COPPER_ENVELOPES_START)):
        Polygon((31.745030882, -42.910941862), (37.709404367, -51.385736926), (39.87489837, -49.724094935), (33.232568395, -41.769514182), align=None)
    extrude(amount=SLOT_COPPER_ENVELOPES_28_DEPTH)


with BuildPart() as body_29:
    # Эскиз1 → Slot_copper_envelopes 29 (new body)
    with BuildSketch(Plane.XY.offset(SLOT_COPPER_ENVELOPES_START)):
        Polygon((44.366551525, -46.296631625), (49.587902762, -51.974388148), (51.974388148, -49.587902762), (46.296631625, -44.366551525), align=None)
    extrude(amount=SLOT_COPPER_ENVELOPES_29_DEPTH)


with BuildPart() as body_30:
    # Эскиз1 → Slot_copper_envelopes 30 (new body)
    with BuildSketch(Plane.XY.offset(SLOT_COPPER_ENVELOPES_START)):
        Polygon((51.307552576, -14.718388697), (61.198536557, -17.811015145), (61.904994905, -15.174476696), (51.792838285, -12.907277773), align=None)
    extrude(amount=SLOT_COPPER_ENVELOPES_30_DEPTH)


with BuildPart() as body_31:
    # Эскиз1 → Slot_copper_envelopes 31 (new body)
    with BuildSketch(Plane.XY.offset(SLOT_COPPER_ENVELOPES_START)):
        Polygon((63.381955476, -9.720942038), (70.980731095, -11.0468519), (71.421256994, -7.700725493), (63.738232651, -7.014748223), align=None)
    extrude(amount=SLOT_COPPER_ENVELOPES_31_DEPTH)


with BuildPart() as body_32:
    # Эскиз1 → Slot_copper_envelopes 32 (new body)
    with BuildSketch(Plane.XY.offset(SLOT_COPPER_ENVELOPES_START)):
        Polygon((52.789744583, -7.895491372), (62.999778579, -9.670627495), (63.356055754, -6.96443368), (53.034481194, -6.036532257), align=None)
    extrude(amount=SLOT_COPPER_ENVELOPES_32_DEPTH)


solid = Compound([part.part, body_2.part, body_3.part, body_4.part, body_5.part, body_6.part, body_7.part, body_8.part, body_9.part, body_10.part, body_11.part, body_12.part, body_13.part, body_14.part, body_15.part, body_16.part, body_17.part, body_18.part, body_19.part, body_20.part, body_21.part, body_22.part, body_23.part, body_24.part, body_25.part, body_26.part, body_27.part, body_28.part, body_29.part, body_30.part, body_31.part, body_32.part])
